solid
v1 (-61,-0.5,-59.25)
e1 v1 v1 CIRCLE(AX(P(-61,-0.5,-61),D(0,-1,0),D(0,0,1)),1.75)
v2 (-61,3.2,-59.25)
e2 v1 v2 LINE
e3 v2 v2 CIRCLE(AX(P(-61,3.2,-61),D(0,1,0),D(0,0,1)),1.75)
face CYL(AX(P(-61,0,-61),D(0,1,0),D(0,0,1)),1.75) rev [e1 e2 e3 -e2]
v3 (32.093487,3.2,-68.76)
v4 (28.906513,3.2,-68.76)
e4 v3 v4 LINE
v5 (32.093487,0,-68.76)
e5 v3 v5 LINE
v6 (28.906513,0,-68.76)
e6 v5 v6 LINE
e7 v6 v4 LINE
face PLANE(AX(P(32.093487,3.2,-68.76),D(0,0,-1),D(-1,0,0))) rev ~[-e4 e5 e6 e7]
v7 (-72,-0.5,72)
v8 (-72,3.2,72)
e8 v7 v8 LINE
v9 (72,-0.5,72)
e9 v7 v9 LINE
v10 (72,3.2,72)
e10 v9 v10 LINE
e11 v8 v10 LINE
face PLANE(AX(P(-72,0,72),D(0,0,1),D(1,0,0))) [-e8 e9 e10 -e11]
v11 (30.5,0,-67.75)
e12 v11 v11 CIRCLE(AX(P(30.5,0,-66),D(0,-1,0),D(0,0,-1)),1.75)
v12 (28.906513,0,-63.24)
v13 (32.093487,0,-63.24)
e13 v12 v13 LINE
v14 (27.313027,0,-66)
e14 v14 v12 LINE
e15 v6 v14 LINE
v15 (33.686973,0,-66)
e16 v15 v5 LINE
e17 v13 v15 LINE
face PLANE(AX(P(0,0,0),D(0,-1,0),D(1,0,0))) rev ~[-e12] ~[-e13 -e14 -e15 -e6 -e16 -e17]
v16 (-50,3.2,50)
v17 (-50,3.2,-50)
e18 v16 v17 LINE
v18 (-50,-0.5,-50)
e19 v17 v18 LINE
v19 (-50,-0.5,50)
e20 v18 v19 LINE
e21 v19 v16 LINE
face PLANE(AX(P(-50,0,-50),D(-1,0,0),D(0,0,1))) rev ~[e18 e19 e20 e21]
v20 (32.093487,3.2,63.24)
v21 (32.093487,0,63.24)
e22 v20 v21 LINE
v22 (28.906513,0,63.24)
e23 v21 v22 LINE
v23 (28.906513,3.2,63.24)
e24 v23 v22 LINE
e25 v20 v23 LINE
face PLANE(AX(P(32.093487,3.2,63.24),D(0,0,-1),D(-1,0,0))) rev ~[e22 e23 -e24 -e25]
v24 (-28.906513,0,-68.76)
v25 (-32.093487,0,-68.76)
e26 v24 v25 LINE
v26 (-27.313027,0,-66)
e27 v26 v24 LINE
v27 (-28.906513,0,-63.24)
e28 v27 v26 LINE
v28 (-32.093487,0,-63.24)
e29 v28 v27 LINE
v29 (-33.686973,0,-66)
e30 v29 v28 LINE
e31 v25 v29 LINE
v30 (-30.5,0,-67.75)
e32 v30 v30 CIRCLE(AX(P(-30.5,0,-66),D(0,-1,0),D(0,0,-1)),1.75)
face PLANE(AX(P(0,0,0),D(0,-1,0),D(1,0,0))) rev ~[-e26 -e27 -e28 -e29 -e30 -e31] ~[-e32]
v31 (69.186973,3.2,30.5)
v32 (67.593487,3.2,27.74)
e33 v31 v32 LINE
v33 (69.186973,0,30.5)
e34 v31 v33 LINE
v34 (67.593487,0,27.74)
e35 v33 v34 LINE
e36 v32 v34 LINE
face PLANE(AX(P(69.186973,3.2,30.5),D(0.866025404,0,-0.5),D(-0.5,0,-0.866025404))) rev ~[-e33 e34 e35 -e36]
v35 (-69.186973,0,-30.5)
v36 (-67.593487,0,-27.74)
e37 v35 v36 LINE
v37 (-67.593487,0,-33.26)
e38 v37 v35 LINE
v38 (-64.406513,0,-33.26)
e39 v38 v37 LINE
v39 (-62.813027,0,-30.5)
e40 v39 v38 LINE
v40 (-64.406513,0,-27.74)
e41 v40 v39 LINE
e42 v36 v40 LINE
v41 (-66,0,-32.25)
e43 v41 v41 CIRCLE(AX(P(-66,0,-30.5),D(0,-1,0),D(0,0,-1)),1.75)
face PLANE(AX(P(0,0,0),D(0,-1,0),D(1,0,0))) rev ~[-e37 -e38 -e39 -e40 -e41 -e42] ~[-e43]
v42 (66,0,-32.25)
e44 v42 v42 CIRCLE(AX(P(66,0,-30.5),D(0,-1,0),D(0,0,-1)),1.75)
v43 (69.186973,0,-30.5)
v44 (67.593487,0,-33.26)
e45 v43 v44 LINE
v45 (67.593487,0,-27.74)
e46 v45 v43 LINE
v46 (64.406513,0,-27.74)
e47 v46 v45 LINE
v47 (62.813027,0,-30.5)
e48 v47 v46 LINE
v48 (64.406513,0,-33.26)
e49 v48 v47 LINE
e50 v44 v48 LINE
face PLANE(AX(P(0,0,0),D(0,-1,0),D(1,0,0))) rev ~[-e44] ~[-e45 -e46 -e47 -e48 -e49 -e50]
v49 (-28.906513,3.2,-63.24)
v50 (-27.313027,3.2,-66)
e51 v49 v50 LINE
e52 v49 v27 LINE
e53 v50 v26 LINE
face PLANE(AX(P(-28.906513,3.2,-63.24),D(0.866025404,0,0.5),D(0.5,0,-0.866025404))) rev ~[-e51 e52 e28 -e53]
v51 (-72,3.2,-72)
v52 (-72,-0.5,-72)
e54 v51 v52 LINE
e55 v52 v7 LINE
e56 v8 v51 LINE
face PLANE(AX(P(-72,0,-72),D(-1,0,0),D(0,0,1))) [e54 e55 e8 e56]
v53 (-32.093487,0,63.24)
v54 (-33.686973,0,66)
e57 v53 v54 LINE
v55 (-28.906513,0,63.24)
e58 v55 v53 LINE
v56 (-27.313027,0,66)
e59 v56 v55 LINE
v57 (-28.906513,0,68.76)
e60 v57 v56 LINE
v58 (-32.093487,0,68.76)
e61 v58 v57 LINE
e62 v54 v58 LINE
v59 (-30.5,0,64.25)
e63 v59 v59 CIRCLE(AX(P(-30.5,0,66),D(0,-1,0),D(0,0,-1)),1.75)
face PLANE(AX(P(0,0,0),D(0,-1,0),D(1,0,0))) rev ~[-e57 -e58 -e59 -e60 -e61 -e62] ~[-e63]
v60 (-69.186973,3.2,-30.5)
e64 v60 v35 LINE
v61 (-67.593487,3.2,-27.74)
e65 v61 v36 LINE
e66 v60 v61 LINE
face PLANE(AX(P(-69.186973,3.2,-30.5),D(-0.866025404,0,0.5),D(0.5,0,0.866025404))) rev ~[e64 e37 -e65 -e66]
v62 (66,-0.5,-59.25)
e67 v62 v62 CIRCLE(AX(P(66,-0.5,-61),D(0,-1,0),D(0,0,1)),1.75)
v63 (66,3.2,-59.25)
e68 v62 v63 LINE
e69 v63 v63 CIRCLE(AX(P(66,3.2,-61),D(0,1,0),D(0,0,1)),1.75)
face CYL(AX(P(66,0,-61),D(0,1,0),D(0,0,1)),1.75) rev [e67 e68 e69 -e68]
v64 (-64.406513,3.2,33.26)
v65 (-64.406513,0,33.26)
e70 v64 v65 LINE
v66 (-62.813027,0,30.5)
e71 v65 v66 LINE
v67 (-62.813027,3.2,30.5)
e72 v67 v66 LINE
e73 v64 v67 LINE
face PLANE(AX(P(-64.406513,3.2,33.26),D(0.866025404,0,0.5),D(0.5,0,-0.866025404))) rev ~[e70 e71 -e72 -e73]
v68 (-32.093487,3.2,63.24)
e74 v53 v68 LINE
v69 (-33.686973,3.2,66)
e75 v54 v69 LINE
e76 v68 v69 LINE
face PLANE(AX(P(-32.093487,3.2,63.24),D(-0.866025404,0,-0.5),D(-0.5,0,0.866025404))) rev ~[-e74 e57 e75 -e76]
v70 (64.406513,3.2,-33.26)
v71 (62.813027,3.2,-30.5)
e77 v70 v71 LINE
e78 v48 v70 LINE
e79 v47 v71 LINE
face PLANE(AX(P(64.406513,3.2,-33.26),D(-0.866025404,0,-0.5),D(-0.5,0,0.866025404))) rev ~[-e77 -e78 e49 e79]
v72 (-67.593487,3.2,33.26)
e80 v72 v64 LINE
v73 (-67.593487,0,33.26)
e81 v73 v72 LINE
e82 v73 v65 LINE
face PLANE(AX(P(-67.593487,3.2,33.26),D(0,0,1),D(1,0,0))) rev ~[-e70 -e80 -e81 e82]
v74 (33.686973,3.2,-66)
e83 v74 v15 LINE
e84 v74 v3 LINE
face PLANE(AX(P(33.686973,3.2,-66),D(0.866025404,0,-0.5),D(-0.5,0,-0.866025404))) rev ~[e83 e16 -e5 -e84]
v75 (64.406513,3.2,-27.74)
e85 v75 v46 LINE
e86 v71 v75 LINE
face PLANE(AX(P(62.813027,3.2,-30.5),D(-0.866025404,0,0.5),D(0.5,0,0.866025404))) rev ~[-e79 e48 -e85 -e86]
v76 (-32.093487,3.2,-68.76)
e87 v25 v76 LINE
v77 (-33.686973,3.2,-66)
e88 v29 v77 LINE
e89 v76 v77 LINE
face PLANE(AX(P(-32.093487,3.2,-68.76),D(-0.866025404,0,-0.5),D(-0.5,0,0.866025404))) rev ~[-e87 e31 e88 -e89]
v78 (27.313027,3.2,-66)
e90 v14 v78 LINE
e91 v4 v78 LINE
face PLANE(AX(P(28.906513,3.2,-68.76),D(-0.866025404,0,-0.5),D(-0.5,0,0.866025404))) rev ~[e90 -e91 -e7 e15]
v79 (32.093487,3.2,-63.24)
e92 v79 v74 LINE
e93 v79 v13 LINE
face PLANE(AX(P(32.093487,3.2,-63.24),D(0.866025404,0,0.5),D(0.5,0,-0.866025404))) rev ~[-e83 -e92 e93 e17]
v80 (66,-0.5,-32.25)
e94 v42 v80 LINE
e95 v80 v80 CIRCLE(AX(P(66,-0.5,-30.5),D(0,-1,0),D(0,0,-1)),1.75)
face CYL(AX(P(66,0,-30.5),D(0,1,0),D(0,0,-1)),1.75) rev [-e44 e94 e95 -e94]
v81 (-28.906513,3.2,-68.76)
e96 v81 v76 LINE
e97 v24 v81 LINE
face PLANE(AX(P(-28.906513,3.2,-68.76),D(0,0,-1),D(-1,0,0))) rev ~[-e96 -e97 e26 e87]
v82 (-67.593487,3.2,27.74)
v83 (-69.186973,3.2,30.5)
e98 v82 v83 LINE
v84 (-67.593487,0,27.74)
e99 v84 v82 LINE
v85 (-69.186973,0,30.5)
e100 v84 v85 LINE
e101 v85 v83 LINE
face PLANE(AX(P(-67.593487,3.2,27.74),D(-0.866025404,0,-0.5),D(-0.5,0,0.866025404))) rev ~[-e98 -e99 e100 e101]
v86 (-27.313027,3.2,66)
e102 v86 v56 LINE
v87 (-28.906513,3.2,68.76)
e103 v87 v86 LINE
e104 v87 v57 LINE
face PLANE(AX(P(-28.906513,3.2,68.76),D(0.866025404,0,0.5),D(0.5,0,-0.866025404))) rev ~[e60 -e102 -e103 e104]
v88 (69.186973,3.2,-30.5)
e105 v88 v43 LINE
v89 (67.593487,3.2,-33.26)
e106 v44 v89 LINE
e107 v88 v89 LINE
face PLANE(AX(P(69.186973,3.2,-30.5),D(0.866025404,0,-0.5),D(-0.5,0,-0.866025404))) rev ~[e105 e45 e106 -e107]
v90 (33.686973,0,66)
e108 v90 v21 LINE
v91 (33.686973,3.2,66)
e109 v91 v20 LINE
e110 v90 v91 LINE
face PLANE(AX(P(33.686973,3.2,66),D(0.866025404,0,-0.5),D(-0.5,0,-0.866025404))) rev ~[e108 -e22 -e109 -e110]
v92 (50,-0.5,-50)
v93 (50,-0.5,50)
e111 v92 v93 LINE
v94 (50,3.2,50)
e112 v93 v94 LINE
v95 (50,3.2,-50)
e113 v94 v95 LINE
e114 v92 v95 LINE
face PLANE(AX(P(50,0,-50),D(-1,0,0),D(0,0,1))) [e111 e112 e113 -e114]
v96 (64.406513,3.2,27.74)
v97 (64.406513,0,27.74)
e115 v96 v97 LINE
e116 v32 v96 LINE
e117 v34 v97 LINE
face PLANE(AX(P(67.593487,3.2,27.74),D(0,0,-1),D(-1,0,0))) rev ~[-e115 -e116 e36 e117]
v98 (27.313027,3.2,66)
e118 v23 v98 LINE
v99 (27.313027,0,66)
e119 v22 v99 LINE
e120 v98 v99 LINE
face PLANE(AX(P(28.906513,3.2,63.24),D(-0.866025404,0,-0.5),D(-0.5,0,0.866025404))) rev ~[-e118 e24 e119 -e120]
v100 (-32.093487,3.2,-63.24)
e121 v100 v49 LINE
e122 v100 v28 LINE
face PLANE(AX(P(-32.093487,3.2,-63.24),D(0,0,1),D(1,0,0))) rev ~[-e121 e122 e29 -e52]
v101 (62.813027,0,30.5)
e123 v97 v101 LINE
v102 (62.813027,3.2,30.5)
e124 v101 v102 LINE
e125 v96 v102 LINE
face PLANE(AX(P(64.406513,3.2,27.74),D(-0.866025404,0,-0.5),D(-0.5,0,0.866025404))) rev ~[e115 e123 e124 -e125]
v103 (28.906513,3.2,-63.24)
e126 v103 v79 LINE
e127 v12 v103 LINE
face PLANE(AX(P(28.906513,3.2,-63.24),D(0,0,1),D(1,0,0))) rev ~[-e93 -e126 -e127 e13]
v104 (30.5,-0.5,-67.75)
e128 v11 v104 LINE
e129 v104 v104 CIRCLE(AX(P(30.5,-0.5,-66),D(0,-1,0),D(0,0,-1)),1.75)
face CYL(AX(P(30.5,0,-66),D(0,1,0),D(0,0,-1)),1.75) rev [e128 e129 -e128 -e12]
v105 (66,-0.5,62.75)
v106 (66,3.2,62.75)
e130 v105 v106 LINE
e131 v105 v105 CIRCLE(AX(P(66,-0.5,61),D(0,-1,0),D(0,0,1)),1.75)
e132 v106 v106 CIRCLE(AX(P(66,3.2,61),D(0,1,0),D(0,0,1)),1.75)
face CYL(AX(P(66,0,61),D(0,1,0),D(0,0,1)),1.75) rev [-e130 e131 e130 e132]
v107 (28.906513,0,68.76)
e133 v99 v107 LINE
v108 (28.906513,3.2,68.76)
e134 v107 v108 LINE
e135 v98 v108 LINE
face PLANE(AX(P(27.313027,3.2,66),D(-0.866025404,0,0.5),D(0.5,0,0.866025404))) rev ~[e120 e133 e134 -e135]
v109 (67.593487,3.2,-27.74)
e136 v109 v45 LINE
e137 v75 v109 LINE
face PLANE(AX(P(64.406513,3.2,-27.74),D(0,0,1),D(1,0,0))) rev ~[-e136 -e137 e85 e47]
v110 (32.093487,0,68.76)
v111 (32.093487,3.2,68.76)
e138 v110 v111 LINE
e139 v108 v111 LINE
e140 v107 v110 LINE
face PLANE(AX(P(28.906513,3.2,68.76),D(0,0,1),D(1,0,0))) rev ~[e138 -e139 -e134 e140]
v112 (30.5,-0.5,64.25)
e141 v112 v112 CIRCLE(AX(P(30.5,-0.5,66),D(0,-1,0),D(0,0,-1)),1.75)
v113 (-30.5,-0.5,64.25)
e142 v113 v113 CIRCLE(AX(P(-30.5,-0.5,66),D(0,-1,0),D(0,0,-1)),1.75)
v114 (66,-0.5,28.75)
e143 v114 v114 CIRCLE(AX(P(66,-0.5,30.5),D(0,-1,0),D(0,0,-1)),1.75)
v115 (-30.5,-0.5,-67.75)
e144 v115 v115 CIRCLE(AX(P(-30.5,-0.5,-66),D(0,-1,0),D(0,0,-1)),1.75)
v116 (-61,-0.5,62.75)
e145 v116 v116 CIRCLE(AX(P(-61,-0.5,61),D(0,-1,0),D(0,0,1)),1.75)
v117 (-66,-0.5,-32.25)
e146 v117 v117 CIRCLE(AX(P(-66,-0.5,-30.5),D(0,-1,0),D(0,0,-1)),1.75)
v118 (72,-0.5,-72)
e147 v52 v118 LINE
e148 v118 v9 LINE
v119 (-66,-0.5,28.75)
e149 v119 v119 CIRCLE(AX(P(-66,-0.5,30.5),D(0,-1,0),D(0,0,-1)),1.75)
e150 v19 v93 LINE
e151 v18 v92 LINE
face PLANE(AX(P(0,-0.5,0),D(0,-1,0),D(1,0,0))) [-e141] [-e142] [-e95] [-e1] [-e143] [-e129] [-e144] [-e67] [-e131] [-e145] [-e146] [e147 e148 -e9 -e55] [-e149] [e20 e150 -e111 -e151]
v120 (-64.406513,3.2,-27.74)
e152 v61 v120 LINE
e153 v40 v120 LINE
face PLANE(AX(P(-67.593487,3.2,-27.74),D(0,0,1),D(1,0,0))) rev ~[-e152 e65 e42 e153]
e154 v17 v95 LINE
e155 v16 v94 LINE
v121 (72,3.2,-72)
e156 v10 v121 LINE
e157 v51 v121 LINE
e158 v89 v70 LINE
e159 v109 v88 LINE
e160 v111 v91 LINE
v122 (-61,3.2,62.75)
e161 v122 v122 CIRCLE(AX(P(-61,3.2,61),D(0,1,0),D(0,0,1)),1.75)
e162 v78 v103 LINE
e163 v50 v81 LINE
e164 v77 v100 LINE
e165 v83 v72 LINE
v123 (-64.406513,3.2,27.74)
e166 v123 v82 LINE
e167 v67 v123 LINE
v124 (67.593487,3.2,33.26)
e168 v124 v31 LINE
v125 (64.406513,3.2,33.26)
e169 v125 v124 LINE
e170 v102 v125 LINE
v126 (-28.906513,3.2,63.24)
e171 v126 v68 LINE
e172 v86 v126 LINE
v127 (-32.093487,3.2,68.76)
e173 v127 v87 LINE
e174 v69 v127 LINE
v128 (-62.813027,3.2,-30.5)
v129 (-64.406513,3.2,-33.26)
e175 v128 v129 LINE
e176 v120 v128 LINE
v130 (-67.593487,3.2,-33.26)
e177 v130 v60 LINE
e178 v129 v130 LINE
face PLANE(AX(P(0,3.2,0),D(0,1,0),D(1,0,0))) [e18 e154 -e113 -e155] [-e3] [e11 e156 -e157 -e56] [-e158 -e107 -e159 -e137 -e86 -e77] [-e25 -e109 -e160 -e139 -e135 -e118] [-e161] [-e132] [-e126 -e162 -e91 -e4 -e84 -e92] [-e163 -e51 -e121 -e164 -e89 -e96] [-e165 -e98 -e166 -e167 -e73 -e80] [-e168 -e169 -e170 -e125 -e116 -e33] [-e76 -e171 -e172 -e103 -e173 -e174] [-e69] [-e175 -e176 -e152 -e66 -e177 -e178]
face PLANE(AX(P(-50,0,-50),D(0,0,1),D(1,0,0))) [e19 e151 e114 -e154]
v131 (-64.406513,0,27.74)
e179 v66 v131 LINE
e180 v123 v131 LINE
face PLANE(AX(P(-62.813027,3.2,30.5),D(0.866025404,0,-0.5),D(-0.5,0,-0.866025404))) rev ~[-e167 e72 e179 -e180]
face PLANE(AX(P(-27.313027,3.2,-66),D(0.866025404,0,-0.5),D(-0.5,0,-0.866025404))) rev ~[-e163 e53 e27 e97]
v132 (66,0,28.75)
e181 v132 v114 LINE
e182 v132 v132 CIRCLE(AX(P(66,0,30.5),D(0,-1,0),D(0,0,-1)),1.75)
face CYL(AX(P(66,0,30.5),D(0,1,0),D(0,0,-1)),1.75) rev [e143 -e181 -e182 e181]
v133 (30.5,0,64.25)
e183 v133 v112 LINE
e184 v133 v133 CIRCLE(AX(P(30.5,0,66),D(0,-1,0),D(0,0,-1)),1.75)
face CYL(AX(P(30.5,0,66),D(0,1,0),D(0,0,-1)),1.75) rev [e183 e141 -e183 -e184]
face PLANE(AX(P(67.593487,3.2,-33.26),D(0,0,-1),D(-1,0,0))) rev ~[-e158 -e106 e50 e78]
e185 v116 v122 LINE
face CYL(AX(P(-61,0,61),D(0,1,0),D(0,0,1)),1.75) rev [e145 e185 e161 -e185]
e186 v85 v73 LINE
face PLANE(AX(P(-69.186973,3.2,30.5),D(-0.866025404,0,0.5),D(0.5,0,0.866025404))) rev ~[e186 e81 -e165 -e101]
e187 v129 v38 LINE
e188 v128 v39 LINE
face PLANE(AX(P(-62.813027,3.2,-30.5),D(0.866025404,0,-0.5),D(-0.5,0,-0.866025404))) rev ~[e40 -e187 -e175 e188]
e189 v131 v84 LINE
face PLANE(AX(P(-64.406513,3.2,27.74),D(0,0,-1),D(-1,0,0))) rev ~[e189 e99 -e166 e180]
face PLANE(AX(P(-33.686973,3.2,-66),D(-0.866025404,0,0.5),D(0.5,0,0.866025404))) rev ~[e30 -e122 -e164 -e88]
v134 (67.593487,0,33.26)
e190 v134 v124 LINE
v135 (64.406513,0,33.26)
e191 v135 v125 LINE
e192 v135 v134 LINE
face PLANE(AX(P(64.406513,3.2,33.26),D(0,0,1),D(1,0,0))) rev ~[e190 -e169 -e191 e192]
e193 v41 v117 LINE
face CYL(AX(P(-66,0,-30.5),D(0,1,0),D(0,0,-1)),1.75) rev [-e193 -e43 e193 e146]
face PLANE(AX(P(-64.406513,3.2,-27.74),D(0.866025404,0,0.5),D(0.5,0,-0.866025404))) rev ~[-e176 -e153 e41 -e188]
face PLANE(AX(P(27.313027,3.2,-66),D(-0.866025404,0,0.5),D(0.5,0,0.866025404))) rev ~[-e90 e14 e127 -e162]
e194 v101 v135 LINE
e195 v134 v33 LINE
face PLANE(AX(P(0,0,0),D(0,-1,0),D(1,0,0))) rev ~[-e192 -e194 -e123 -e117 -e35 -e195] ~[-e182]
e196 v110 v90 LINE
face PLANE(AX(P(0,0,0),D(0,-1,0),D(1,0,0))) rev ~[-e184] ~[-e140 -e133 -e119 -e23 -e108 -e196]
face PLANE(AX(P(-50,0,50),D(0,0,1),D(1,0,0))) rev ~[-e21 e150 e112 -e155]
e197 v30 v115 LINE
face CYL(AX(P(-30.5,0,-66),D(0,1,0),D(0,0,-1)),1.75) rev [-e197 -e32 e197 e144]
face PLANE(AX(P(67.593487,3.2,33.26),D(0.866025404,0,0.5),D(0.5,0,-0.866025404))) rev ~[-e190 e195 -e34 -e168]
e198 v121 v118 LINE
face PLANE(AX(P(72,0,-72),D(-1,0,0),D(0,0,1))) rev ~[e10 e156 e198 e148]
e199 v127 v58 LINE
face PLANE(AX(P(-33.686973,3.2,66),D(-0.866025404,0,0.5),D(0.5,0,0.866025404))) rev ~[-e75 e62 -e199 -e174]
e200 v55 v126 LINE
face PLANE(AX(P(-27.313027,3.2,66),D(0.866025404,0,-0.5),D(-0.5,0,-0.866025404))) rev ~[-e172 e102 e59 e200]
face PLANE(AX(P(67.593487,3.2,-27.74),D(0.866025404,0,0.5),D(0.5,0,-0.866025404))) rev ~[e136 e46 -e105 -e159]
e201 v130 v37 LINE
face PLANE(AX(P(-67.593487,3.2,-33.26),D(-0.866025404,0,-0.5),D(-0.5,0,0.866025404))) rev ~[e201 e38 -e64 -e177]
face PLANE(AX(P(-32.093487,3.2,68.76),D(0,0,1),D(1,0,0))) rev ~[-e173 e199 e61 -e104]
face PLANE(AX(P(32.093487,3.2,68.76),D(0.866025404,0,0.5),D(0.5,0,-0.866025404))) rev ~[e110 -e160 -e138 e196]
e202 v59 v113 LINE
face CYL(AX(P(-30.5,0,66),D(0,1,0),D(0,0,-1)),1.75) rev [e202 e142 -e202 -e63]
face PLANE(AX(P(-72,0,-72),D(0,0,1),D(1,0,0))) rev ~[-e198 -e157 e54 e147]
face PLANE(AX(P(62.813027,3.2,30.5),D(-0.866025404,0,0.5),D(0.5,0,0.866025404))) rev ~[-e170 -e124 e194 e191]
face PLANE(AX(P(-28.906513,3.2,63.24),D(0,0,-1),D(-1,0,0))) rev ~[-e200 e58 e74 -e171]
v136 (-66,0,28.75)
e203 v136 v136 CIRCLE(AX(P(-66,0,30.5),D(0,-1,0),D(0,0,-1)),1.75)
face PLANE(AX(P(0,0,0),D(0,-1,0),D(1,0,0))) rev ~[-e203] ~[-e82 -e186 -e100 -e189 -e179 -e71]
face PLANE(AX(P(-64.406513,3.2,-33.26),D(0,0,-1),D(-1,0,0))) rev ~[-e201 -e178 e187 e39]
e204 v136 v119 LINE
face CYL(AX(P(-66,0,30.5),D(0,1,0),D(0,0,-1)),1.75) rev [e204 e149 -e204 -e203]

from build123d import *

# Parameters (mm, degrees)
CROQUIS1_W              = 140
CROQUIS1_H              = 140
CROQUIS1_R              = 1.5
SALIENTE_EXTRUIR1_DEPTH = 0.5
CROQUIS2_R              = 1.75
CROQUIS2_W              = 100
CROQUIS2_H              = 100
CORTAR_EXTRUIR1_DEPTH   = 10
SALIENTE_EXTRUIR3_START = 2.7
CROQUIS3_W              = 144
CROQUIS3_H              = 144
CROQUIS3_R              = 1.75
CROQUIS3_W_2            = 100
CROQUIS3_H_2            = 100
SALIENTE_EXTRUIR3_DEPTH = 2.7
CROQUIS4_W              = 144
CROQUIS4_H              = 144
CROQUIS4_W_2            = 140
CROQUIS4_H_2            = 140
SALIENTE_EXTRUIR4_DEPTH = 0.5
CROQUIS5_W              = 144
CROQUIS5_H              = 144
CROQUIS5_R              = 1.75
CROQUIS5_W_2            = 100
CROQUIS5_H_2            = 100
SALIENTE_EXTRUIR5_DEPTH = 0.5


with BuildPart() as part:
    # Croquis1 → Saliente-Extruir1 (new body)
    with BuildSketch(Plane(origin=(0, 0, 0), x_dir=(1, 0, 0), z_dir=(0, 1, 0))):
        Rectangle(CROQUIS1_W, CROQUIS1_H)
        with Locations(Location((-61, 61, 0), (0, 0, 270))):
            Circle(CROQUIS1_R, mode=Mode.SUBTRACT)
        with Locations(Location((66, 61, 0), (0, 0, 270))):
            Circle(CROQUIS1_R, mode=Mode.SUBTRACT)
        with Locations(Location((66, -61, 0), (0, 0, 270))):
            Circle(CROQUIS1_R, mode=Mode.SUBTRACT)
        with Locations(Location((-61, -61, 0), (0, 0, 270))):
            Circle(CROQUIS1_R, mode=Mode.SUBTRACT)
        with Locations(Location((66, 30.5, 0), (0, 0, 270))):
            Circle(CROQUIS1_R, mode=Mode.SUBTRACT)
        with Locations(Location((66, -30.5, 0), (0, 0, 270))):
            Circle(CROQUIS1_R, mode=Mode.SUBTRACT)
        with Locations(Location((-30.5, -66, 0), (0, 0, 270))):
            Circle(CROQUIS1_R, mode=Mode.SUBTRACT)
        with Locations(Location((30.5, -66, 0), (0, 0, 270))):
            Circle(CROQUIS1_R, mode=Mode.SUBTRACT)
        with Locations(Location((-30.5, 66, 0), (0, 0, 90))):
            Circle(CROQUIS1_R, mode=Mode.SUBTRACT)
        with Locations(Location((30.5, 66, 0), (0, 0, 90))):
            Circle(CROQUIS1_R, mode=Mode.SUBTRACT)
        with Locations(Location((-66, 30.5, 0), (0, 0, 90))):
            Circle(CROQUIS1_R, mode=Mode.SUBTRACT)
        with Locations(Location((-66, -30.5, 0), (0, 0, 90))):
            Circle(CROQUIS1_R, mode=Mode.SUBTRACT)
    extrude(amount=SALIENTE_EXTRUIR1_DEPTH)

    # Croquis2 → Cortar-Extruir1 (cut)
    with BuildSketch(Plane(origin=(0, 0.5, 0), x_dir=(1, 0, 0), z_dir=(0, 1, 0))):
        with Locations(Location((66, 61, 0), (0, 0, 270))):
            Circle(CROQUIS2_R)
        with Locations(Location((-61, 61, 0), (0, 0, 270))):
            Circle(CROQUIS2_R)
        with Locations(Location((-61, -61, 0), (0, 0, 270))):
            Circle(CROQUIS2_R)
        with Locations(Location((66, -61, 0), (0, 0, 270))):
            Circle(CROQUIS2_R)
        Polygon((-28.906513257, 63.24), (-27.313026514, 66), (-28.906513257, 68.76), (-32.093486743, 68.76), (-33.686973486, 66), (-32.093486743, 63.24), align=None)
        Polygon((32.093486743, 63.24), (33.686973486, 66), (32.093486743, 68.76), (28.906513257, 68.76), (27.313026514, 66), (28.906513257, 63.24), align=None)
        Polygon((67.593486743, 27.74), (69.186973486, 30.5), (67.593486743, 33.26), (64.406513257, 33.26), (62.813026514, 30.5), (64.406513257, 27.74), align=None)
        Polygon((67.593486743, -33.26), (69.186973486, -30.5), (67.593486743, -27.74), (64.406513257, -27.74), (62.813026514, -30.5), (64.406513257, -33.26), align=None)
        Polygon((32.093486743, -68.76), (33.686973486, -66), (32.093486743, -63.24), (28.906513257, -63.24), (27.313026514, -66), (28.906513257, -68.76), align=None)
        Polygon((-28.906513257, -68.76), (-27.313026514, -66), (-28.906513257, -63.24), (-32.093486743, -63.24), (-33.686973486, -66), (-32.093486743, -68.76), align=None)
        Polygon((-64.406513257, -33.26), (-62.813026514, -30.5), (-64.406513257, -27.74), (-67.593486743, -27.74), (-69.186973486, -30.5), (-67.593486743, -33.26), align=None)
        Polygon((-64.406513257, 27.74), (-62.813026514, 30.5), (-64.406513257, 33.26), (-67.593486743, 33.26), (-69.186973486, 30.5), (-67.593486743, 27.74), align=None)
        Rectangle(CROQUIS2_W, CROQUIS2_H)
    extrude(amount=-CORTAR_EXTRUIR1_DEPTH, mode=Mode.SUBTRACT)

    # Croquis3 → Saliente-Extruir3 (add)
    with BuildSketch(Plane(origin=(0, 0.5, 0), x_dir=(1, 0, 0), z_dir=(0, 1, 0)).offset(SALIENTE_EXTRUIR3_START)):
        Rectangle(CROQUIS3_W, CROQUIS3_H)
        with Locations(Location((-61, -61, 0), (0, 0, 270))):
            Circle(CROQUIS3_R, mode=Mode.SUBTRACT)
        with Locations(Location((-61, 61, 0), (0, 0, 270))):
            Circle(CROQUIS3_R, mode=Mode.SUBTRACT)
        with Locations(Location((66, 61, 0), (0, 0, 270))):
            Circle(CROQUIS3_R, mode=Mode.SUBTRACT)
        with Locations(Location((66, -61, 0), (0, 0, 270))):
            Circle(CROQUIS3_R, mode=Mode.SUBTRACT)
        Rectangle(CROQUIS3_W_2, CROQUIS3_H_2, mode=Mode.SUBTRACT)
        Polygon((-33.686973486, -66), (-32.093486743, -68.76), (-28.906513257, -68.76), (-27.313026514, -66), (-28.906513257, -63.24), (-32.093486743, -63.24), align=None, mode=Mode.SUBTRACT)
        Polygon((-67.593486743, -33.26), (-64.406513257, -33.26), (-62.813026514, -30.5), (-64.406513257, -27.74), (-67.593486743, -27.74), (-69.186973486, -30.5), align=None, mode=Mode.SUBTRACT)
        Polygon((28.906513257, 63.24), (32.093486743, 63.24), (33.686973486, 66), (32.093486743, 68.76), (28.906513257, 68.76), (27.313026514, 66), align=None, mode=Mode.SUBTRACT)
        Polygon((-33.686973486, 66), (-32.093486743, 63.24), (-28.906513257, 63.24), (-27.313026514, 66), (-28.906513257, 68.76), (-32.093486743, 68.76), align=None, mode=Mode.SUBTRACT)
        Polygon((62.813026514, 30.5), (64.406513257, 27.74), (67.593486743, 27.74), (69.186973486, 30.5), (67.593486743, 33.26), (64.406513257, 33.26), align=None, mode=Mode.SUBTRACT)
        Polygon((67.593486743, -33.26), (69.186973486, -30.5), (67.593486743, -27.74), (64.406513257, -27.74), (62.813026514, -30.5), (64.406513257, -33.26), align=None, mode=Mode.SUBTRACT)
        Polygon((33.686973486, -66), (32.093486743, -63.24), (28.906513257, -63.24), (27.313026514, -66), (28.906513257, -68.76), (32.093486743, -68.76), align=None, mode=Mode.SUBTRACT)
        Polygon((-64.406513257, 27.74), (-62.813026514, 30.5), (-64.406513257, 33.26), (-67.593486743, 33.26), (-69.186973486, 30.5), (-67.593486743, 27.74), align=None, mode=Mode.SUBTRACT)
    extrude(amount=-SALIENTE_EXTRUIR3_DEPTH)

    # Croquis4 → Saliente-Extruir4 (add)
    with BuildSketch(Plane.XZ.offset(-0.5)):
        Rectangle(CROQUIS4_W, CROQUIS4_H)
        Rectangle(CROQUIS4_W_2, CROQUIS4_H_2, mode=Mode.SUBTRACT)
    extrude(amount=SALIENTE_EXTRUIR4_DEPTH)

    # Croquis5 → Saliente-Extruir5 (add)
    with BuildSketch(Plane.XZ):
        Rectangle(CROQUIS5_W, CROQUIS5_H)
        with Locations(Location((66, -61, 0), (0, 0, 90))):
            Circle(CROQUIS5_R, mode=Mode.SUBTRACT)
        with Locations(Location((-61, -61, 0), (0, 0, 90))):
            Circle(CROQUIS5_R, mode=Mode.SUBTRACT)
        with Locations(Location((66, 61, 0), (0, 0, 90))):
            Circle(CROQUIS5_R, mode=Mode.SUBTRACT)
        with Locations(Location((-61, 61, 0), (0, 0, 90))):
            Circle(CROQUIS5_R, mode=Mode.SUBTRACT)
        with Locations(Location((66, 30.5, 0), (0, 0, 270))):
            Circle(CROQUIS5_R, mode=Mode.SUBTRACT)
        with Locations(Location((30.5, 66, 0), (0, 0, 270))):
            Circle(CROQUIS5_R, mode=Mode.SUBTRACT)
        with Locations(Location((-30.5, 66, 0), (0, 0, 270))):
            Circle(CROQUIS5_R, mode=Mode.SUBTRACT)
        with Locations(Location((-66, 30.5, 0), (0, 0, 270))):
            Circle(CROQUIS5_R, mode=Mode.SUBTRACT)
        with Locations(Location((-66, -30.5, 0), (0, 0, 270))):
            Circle(CROQUIS5_R, mode=Mode.SUBTRACT)
        with Locations(Location((-30.5, -66, 0), (0, 0, 270))):
            Circle(CROQUIS5_R, mode=Mode.SUBTRACT)
        with Locations(Location((30.5, -66, 0), (0, 0, 270))):
            Circle(CROQUIS5_R, mode=Mode.SUBTRACT)
        with Locations(Location((66, -30.5, 0), (0, 0, 270))):
            Circle(CROQUIS5_R, mode=Mode.SUBTRACT)
        Rectangle(CROQUIS5_W_2, CROQUIS5_H_2, mode=Mode.SUBTRACT)
    extrude(amount=SALIENTE_EXTRUIR5_DEPTH)


solid = part.part
